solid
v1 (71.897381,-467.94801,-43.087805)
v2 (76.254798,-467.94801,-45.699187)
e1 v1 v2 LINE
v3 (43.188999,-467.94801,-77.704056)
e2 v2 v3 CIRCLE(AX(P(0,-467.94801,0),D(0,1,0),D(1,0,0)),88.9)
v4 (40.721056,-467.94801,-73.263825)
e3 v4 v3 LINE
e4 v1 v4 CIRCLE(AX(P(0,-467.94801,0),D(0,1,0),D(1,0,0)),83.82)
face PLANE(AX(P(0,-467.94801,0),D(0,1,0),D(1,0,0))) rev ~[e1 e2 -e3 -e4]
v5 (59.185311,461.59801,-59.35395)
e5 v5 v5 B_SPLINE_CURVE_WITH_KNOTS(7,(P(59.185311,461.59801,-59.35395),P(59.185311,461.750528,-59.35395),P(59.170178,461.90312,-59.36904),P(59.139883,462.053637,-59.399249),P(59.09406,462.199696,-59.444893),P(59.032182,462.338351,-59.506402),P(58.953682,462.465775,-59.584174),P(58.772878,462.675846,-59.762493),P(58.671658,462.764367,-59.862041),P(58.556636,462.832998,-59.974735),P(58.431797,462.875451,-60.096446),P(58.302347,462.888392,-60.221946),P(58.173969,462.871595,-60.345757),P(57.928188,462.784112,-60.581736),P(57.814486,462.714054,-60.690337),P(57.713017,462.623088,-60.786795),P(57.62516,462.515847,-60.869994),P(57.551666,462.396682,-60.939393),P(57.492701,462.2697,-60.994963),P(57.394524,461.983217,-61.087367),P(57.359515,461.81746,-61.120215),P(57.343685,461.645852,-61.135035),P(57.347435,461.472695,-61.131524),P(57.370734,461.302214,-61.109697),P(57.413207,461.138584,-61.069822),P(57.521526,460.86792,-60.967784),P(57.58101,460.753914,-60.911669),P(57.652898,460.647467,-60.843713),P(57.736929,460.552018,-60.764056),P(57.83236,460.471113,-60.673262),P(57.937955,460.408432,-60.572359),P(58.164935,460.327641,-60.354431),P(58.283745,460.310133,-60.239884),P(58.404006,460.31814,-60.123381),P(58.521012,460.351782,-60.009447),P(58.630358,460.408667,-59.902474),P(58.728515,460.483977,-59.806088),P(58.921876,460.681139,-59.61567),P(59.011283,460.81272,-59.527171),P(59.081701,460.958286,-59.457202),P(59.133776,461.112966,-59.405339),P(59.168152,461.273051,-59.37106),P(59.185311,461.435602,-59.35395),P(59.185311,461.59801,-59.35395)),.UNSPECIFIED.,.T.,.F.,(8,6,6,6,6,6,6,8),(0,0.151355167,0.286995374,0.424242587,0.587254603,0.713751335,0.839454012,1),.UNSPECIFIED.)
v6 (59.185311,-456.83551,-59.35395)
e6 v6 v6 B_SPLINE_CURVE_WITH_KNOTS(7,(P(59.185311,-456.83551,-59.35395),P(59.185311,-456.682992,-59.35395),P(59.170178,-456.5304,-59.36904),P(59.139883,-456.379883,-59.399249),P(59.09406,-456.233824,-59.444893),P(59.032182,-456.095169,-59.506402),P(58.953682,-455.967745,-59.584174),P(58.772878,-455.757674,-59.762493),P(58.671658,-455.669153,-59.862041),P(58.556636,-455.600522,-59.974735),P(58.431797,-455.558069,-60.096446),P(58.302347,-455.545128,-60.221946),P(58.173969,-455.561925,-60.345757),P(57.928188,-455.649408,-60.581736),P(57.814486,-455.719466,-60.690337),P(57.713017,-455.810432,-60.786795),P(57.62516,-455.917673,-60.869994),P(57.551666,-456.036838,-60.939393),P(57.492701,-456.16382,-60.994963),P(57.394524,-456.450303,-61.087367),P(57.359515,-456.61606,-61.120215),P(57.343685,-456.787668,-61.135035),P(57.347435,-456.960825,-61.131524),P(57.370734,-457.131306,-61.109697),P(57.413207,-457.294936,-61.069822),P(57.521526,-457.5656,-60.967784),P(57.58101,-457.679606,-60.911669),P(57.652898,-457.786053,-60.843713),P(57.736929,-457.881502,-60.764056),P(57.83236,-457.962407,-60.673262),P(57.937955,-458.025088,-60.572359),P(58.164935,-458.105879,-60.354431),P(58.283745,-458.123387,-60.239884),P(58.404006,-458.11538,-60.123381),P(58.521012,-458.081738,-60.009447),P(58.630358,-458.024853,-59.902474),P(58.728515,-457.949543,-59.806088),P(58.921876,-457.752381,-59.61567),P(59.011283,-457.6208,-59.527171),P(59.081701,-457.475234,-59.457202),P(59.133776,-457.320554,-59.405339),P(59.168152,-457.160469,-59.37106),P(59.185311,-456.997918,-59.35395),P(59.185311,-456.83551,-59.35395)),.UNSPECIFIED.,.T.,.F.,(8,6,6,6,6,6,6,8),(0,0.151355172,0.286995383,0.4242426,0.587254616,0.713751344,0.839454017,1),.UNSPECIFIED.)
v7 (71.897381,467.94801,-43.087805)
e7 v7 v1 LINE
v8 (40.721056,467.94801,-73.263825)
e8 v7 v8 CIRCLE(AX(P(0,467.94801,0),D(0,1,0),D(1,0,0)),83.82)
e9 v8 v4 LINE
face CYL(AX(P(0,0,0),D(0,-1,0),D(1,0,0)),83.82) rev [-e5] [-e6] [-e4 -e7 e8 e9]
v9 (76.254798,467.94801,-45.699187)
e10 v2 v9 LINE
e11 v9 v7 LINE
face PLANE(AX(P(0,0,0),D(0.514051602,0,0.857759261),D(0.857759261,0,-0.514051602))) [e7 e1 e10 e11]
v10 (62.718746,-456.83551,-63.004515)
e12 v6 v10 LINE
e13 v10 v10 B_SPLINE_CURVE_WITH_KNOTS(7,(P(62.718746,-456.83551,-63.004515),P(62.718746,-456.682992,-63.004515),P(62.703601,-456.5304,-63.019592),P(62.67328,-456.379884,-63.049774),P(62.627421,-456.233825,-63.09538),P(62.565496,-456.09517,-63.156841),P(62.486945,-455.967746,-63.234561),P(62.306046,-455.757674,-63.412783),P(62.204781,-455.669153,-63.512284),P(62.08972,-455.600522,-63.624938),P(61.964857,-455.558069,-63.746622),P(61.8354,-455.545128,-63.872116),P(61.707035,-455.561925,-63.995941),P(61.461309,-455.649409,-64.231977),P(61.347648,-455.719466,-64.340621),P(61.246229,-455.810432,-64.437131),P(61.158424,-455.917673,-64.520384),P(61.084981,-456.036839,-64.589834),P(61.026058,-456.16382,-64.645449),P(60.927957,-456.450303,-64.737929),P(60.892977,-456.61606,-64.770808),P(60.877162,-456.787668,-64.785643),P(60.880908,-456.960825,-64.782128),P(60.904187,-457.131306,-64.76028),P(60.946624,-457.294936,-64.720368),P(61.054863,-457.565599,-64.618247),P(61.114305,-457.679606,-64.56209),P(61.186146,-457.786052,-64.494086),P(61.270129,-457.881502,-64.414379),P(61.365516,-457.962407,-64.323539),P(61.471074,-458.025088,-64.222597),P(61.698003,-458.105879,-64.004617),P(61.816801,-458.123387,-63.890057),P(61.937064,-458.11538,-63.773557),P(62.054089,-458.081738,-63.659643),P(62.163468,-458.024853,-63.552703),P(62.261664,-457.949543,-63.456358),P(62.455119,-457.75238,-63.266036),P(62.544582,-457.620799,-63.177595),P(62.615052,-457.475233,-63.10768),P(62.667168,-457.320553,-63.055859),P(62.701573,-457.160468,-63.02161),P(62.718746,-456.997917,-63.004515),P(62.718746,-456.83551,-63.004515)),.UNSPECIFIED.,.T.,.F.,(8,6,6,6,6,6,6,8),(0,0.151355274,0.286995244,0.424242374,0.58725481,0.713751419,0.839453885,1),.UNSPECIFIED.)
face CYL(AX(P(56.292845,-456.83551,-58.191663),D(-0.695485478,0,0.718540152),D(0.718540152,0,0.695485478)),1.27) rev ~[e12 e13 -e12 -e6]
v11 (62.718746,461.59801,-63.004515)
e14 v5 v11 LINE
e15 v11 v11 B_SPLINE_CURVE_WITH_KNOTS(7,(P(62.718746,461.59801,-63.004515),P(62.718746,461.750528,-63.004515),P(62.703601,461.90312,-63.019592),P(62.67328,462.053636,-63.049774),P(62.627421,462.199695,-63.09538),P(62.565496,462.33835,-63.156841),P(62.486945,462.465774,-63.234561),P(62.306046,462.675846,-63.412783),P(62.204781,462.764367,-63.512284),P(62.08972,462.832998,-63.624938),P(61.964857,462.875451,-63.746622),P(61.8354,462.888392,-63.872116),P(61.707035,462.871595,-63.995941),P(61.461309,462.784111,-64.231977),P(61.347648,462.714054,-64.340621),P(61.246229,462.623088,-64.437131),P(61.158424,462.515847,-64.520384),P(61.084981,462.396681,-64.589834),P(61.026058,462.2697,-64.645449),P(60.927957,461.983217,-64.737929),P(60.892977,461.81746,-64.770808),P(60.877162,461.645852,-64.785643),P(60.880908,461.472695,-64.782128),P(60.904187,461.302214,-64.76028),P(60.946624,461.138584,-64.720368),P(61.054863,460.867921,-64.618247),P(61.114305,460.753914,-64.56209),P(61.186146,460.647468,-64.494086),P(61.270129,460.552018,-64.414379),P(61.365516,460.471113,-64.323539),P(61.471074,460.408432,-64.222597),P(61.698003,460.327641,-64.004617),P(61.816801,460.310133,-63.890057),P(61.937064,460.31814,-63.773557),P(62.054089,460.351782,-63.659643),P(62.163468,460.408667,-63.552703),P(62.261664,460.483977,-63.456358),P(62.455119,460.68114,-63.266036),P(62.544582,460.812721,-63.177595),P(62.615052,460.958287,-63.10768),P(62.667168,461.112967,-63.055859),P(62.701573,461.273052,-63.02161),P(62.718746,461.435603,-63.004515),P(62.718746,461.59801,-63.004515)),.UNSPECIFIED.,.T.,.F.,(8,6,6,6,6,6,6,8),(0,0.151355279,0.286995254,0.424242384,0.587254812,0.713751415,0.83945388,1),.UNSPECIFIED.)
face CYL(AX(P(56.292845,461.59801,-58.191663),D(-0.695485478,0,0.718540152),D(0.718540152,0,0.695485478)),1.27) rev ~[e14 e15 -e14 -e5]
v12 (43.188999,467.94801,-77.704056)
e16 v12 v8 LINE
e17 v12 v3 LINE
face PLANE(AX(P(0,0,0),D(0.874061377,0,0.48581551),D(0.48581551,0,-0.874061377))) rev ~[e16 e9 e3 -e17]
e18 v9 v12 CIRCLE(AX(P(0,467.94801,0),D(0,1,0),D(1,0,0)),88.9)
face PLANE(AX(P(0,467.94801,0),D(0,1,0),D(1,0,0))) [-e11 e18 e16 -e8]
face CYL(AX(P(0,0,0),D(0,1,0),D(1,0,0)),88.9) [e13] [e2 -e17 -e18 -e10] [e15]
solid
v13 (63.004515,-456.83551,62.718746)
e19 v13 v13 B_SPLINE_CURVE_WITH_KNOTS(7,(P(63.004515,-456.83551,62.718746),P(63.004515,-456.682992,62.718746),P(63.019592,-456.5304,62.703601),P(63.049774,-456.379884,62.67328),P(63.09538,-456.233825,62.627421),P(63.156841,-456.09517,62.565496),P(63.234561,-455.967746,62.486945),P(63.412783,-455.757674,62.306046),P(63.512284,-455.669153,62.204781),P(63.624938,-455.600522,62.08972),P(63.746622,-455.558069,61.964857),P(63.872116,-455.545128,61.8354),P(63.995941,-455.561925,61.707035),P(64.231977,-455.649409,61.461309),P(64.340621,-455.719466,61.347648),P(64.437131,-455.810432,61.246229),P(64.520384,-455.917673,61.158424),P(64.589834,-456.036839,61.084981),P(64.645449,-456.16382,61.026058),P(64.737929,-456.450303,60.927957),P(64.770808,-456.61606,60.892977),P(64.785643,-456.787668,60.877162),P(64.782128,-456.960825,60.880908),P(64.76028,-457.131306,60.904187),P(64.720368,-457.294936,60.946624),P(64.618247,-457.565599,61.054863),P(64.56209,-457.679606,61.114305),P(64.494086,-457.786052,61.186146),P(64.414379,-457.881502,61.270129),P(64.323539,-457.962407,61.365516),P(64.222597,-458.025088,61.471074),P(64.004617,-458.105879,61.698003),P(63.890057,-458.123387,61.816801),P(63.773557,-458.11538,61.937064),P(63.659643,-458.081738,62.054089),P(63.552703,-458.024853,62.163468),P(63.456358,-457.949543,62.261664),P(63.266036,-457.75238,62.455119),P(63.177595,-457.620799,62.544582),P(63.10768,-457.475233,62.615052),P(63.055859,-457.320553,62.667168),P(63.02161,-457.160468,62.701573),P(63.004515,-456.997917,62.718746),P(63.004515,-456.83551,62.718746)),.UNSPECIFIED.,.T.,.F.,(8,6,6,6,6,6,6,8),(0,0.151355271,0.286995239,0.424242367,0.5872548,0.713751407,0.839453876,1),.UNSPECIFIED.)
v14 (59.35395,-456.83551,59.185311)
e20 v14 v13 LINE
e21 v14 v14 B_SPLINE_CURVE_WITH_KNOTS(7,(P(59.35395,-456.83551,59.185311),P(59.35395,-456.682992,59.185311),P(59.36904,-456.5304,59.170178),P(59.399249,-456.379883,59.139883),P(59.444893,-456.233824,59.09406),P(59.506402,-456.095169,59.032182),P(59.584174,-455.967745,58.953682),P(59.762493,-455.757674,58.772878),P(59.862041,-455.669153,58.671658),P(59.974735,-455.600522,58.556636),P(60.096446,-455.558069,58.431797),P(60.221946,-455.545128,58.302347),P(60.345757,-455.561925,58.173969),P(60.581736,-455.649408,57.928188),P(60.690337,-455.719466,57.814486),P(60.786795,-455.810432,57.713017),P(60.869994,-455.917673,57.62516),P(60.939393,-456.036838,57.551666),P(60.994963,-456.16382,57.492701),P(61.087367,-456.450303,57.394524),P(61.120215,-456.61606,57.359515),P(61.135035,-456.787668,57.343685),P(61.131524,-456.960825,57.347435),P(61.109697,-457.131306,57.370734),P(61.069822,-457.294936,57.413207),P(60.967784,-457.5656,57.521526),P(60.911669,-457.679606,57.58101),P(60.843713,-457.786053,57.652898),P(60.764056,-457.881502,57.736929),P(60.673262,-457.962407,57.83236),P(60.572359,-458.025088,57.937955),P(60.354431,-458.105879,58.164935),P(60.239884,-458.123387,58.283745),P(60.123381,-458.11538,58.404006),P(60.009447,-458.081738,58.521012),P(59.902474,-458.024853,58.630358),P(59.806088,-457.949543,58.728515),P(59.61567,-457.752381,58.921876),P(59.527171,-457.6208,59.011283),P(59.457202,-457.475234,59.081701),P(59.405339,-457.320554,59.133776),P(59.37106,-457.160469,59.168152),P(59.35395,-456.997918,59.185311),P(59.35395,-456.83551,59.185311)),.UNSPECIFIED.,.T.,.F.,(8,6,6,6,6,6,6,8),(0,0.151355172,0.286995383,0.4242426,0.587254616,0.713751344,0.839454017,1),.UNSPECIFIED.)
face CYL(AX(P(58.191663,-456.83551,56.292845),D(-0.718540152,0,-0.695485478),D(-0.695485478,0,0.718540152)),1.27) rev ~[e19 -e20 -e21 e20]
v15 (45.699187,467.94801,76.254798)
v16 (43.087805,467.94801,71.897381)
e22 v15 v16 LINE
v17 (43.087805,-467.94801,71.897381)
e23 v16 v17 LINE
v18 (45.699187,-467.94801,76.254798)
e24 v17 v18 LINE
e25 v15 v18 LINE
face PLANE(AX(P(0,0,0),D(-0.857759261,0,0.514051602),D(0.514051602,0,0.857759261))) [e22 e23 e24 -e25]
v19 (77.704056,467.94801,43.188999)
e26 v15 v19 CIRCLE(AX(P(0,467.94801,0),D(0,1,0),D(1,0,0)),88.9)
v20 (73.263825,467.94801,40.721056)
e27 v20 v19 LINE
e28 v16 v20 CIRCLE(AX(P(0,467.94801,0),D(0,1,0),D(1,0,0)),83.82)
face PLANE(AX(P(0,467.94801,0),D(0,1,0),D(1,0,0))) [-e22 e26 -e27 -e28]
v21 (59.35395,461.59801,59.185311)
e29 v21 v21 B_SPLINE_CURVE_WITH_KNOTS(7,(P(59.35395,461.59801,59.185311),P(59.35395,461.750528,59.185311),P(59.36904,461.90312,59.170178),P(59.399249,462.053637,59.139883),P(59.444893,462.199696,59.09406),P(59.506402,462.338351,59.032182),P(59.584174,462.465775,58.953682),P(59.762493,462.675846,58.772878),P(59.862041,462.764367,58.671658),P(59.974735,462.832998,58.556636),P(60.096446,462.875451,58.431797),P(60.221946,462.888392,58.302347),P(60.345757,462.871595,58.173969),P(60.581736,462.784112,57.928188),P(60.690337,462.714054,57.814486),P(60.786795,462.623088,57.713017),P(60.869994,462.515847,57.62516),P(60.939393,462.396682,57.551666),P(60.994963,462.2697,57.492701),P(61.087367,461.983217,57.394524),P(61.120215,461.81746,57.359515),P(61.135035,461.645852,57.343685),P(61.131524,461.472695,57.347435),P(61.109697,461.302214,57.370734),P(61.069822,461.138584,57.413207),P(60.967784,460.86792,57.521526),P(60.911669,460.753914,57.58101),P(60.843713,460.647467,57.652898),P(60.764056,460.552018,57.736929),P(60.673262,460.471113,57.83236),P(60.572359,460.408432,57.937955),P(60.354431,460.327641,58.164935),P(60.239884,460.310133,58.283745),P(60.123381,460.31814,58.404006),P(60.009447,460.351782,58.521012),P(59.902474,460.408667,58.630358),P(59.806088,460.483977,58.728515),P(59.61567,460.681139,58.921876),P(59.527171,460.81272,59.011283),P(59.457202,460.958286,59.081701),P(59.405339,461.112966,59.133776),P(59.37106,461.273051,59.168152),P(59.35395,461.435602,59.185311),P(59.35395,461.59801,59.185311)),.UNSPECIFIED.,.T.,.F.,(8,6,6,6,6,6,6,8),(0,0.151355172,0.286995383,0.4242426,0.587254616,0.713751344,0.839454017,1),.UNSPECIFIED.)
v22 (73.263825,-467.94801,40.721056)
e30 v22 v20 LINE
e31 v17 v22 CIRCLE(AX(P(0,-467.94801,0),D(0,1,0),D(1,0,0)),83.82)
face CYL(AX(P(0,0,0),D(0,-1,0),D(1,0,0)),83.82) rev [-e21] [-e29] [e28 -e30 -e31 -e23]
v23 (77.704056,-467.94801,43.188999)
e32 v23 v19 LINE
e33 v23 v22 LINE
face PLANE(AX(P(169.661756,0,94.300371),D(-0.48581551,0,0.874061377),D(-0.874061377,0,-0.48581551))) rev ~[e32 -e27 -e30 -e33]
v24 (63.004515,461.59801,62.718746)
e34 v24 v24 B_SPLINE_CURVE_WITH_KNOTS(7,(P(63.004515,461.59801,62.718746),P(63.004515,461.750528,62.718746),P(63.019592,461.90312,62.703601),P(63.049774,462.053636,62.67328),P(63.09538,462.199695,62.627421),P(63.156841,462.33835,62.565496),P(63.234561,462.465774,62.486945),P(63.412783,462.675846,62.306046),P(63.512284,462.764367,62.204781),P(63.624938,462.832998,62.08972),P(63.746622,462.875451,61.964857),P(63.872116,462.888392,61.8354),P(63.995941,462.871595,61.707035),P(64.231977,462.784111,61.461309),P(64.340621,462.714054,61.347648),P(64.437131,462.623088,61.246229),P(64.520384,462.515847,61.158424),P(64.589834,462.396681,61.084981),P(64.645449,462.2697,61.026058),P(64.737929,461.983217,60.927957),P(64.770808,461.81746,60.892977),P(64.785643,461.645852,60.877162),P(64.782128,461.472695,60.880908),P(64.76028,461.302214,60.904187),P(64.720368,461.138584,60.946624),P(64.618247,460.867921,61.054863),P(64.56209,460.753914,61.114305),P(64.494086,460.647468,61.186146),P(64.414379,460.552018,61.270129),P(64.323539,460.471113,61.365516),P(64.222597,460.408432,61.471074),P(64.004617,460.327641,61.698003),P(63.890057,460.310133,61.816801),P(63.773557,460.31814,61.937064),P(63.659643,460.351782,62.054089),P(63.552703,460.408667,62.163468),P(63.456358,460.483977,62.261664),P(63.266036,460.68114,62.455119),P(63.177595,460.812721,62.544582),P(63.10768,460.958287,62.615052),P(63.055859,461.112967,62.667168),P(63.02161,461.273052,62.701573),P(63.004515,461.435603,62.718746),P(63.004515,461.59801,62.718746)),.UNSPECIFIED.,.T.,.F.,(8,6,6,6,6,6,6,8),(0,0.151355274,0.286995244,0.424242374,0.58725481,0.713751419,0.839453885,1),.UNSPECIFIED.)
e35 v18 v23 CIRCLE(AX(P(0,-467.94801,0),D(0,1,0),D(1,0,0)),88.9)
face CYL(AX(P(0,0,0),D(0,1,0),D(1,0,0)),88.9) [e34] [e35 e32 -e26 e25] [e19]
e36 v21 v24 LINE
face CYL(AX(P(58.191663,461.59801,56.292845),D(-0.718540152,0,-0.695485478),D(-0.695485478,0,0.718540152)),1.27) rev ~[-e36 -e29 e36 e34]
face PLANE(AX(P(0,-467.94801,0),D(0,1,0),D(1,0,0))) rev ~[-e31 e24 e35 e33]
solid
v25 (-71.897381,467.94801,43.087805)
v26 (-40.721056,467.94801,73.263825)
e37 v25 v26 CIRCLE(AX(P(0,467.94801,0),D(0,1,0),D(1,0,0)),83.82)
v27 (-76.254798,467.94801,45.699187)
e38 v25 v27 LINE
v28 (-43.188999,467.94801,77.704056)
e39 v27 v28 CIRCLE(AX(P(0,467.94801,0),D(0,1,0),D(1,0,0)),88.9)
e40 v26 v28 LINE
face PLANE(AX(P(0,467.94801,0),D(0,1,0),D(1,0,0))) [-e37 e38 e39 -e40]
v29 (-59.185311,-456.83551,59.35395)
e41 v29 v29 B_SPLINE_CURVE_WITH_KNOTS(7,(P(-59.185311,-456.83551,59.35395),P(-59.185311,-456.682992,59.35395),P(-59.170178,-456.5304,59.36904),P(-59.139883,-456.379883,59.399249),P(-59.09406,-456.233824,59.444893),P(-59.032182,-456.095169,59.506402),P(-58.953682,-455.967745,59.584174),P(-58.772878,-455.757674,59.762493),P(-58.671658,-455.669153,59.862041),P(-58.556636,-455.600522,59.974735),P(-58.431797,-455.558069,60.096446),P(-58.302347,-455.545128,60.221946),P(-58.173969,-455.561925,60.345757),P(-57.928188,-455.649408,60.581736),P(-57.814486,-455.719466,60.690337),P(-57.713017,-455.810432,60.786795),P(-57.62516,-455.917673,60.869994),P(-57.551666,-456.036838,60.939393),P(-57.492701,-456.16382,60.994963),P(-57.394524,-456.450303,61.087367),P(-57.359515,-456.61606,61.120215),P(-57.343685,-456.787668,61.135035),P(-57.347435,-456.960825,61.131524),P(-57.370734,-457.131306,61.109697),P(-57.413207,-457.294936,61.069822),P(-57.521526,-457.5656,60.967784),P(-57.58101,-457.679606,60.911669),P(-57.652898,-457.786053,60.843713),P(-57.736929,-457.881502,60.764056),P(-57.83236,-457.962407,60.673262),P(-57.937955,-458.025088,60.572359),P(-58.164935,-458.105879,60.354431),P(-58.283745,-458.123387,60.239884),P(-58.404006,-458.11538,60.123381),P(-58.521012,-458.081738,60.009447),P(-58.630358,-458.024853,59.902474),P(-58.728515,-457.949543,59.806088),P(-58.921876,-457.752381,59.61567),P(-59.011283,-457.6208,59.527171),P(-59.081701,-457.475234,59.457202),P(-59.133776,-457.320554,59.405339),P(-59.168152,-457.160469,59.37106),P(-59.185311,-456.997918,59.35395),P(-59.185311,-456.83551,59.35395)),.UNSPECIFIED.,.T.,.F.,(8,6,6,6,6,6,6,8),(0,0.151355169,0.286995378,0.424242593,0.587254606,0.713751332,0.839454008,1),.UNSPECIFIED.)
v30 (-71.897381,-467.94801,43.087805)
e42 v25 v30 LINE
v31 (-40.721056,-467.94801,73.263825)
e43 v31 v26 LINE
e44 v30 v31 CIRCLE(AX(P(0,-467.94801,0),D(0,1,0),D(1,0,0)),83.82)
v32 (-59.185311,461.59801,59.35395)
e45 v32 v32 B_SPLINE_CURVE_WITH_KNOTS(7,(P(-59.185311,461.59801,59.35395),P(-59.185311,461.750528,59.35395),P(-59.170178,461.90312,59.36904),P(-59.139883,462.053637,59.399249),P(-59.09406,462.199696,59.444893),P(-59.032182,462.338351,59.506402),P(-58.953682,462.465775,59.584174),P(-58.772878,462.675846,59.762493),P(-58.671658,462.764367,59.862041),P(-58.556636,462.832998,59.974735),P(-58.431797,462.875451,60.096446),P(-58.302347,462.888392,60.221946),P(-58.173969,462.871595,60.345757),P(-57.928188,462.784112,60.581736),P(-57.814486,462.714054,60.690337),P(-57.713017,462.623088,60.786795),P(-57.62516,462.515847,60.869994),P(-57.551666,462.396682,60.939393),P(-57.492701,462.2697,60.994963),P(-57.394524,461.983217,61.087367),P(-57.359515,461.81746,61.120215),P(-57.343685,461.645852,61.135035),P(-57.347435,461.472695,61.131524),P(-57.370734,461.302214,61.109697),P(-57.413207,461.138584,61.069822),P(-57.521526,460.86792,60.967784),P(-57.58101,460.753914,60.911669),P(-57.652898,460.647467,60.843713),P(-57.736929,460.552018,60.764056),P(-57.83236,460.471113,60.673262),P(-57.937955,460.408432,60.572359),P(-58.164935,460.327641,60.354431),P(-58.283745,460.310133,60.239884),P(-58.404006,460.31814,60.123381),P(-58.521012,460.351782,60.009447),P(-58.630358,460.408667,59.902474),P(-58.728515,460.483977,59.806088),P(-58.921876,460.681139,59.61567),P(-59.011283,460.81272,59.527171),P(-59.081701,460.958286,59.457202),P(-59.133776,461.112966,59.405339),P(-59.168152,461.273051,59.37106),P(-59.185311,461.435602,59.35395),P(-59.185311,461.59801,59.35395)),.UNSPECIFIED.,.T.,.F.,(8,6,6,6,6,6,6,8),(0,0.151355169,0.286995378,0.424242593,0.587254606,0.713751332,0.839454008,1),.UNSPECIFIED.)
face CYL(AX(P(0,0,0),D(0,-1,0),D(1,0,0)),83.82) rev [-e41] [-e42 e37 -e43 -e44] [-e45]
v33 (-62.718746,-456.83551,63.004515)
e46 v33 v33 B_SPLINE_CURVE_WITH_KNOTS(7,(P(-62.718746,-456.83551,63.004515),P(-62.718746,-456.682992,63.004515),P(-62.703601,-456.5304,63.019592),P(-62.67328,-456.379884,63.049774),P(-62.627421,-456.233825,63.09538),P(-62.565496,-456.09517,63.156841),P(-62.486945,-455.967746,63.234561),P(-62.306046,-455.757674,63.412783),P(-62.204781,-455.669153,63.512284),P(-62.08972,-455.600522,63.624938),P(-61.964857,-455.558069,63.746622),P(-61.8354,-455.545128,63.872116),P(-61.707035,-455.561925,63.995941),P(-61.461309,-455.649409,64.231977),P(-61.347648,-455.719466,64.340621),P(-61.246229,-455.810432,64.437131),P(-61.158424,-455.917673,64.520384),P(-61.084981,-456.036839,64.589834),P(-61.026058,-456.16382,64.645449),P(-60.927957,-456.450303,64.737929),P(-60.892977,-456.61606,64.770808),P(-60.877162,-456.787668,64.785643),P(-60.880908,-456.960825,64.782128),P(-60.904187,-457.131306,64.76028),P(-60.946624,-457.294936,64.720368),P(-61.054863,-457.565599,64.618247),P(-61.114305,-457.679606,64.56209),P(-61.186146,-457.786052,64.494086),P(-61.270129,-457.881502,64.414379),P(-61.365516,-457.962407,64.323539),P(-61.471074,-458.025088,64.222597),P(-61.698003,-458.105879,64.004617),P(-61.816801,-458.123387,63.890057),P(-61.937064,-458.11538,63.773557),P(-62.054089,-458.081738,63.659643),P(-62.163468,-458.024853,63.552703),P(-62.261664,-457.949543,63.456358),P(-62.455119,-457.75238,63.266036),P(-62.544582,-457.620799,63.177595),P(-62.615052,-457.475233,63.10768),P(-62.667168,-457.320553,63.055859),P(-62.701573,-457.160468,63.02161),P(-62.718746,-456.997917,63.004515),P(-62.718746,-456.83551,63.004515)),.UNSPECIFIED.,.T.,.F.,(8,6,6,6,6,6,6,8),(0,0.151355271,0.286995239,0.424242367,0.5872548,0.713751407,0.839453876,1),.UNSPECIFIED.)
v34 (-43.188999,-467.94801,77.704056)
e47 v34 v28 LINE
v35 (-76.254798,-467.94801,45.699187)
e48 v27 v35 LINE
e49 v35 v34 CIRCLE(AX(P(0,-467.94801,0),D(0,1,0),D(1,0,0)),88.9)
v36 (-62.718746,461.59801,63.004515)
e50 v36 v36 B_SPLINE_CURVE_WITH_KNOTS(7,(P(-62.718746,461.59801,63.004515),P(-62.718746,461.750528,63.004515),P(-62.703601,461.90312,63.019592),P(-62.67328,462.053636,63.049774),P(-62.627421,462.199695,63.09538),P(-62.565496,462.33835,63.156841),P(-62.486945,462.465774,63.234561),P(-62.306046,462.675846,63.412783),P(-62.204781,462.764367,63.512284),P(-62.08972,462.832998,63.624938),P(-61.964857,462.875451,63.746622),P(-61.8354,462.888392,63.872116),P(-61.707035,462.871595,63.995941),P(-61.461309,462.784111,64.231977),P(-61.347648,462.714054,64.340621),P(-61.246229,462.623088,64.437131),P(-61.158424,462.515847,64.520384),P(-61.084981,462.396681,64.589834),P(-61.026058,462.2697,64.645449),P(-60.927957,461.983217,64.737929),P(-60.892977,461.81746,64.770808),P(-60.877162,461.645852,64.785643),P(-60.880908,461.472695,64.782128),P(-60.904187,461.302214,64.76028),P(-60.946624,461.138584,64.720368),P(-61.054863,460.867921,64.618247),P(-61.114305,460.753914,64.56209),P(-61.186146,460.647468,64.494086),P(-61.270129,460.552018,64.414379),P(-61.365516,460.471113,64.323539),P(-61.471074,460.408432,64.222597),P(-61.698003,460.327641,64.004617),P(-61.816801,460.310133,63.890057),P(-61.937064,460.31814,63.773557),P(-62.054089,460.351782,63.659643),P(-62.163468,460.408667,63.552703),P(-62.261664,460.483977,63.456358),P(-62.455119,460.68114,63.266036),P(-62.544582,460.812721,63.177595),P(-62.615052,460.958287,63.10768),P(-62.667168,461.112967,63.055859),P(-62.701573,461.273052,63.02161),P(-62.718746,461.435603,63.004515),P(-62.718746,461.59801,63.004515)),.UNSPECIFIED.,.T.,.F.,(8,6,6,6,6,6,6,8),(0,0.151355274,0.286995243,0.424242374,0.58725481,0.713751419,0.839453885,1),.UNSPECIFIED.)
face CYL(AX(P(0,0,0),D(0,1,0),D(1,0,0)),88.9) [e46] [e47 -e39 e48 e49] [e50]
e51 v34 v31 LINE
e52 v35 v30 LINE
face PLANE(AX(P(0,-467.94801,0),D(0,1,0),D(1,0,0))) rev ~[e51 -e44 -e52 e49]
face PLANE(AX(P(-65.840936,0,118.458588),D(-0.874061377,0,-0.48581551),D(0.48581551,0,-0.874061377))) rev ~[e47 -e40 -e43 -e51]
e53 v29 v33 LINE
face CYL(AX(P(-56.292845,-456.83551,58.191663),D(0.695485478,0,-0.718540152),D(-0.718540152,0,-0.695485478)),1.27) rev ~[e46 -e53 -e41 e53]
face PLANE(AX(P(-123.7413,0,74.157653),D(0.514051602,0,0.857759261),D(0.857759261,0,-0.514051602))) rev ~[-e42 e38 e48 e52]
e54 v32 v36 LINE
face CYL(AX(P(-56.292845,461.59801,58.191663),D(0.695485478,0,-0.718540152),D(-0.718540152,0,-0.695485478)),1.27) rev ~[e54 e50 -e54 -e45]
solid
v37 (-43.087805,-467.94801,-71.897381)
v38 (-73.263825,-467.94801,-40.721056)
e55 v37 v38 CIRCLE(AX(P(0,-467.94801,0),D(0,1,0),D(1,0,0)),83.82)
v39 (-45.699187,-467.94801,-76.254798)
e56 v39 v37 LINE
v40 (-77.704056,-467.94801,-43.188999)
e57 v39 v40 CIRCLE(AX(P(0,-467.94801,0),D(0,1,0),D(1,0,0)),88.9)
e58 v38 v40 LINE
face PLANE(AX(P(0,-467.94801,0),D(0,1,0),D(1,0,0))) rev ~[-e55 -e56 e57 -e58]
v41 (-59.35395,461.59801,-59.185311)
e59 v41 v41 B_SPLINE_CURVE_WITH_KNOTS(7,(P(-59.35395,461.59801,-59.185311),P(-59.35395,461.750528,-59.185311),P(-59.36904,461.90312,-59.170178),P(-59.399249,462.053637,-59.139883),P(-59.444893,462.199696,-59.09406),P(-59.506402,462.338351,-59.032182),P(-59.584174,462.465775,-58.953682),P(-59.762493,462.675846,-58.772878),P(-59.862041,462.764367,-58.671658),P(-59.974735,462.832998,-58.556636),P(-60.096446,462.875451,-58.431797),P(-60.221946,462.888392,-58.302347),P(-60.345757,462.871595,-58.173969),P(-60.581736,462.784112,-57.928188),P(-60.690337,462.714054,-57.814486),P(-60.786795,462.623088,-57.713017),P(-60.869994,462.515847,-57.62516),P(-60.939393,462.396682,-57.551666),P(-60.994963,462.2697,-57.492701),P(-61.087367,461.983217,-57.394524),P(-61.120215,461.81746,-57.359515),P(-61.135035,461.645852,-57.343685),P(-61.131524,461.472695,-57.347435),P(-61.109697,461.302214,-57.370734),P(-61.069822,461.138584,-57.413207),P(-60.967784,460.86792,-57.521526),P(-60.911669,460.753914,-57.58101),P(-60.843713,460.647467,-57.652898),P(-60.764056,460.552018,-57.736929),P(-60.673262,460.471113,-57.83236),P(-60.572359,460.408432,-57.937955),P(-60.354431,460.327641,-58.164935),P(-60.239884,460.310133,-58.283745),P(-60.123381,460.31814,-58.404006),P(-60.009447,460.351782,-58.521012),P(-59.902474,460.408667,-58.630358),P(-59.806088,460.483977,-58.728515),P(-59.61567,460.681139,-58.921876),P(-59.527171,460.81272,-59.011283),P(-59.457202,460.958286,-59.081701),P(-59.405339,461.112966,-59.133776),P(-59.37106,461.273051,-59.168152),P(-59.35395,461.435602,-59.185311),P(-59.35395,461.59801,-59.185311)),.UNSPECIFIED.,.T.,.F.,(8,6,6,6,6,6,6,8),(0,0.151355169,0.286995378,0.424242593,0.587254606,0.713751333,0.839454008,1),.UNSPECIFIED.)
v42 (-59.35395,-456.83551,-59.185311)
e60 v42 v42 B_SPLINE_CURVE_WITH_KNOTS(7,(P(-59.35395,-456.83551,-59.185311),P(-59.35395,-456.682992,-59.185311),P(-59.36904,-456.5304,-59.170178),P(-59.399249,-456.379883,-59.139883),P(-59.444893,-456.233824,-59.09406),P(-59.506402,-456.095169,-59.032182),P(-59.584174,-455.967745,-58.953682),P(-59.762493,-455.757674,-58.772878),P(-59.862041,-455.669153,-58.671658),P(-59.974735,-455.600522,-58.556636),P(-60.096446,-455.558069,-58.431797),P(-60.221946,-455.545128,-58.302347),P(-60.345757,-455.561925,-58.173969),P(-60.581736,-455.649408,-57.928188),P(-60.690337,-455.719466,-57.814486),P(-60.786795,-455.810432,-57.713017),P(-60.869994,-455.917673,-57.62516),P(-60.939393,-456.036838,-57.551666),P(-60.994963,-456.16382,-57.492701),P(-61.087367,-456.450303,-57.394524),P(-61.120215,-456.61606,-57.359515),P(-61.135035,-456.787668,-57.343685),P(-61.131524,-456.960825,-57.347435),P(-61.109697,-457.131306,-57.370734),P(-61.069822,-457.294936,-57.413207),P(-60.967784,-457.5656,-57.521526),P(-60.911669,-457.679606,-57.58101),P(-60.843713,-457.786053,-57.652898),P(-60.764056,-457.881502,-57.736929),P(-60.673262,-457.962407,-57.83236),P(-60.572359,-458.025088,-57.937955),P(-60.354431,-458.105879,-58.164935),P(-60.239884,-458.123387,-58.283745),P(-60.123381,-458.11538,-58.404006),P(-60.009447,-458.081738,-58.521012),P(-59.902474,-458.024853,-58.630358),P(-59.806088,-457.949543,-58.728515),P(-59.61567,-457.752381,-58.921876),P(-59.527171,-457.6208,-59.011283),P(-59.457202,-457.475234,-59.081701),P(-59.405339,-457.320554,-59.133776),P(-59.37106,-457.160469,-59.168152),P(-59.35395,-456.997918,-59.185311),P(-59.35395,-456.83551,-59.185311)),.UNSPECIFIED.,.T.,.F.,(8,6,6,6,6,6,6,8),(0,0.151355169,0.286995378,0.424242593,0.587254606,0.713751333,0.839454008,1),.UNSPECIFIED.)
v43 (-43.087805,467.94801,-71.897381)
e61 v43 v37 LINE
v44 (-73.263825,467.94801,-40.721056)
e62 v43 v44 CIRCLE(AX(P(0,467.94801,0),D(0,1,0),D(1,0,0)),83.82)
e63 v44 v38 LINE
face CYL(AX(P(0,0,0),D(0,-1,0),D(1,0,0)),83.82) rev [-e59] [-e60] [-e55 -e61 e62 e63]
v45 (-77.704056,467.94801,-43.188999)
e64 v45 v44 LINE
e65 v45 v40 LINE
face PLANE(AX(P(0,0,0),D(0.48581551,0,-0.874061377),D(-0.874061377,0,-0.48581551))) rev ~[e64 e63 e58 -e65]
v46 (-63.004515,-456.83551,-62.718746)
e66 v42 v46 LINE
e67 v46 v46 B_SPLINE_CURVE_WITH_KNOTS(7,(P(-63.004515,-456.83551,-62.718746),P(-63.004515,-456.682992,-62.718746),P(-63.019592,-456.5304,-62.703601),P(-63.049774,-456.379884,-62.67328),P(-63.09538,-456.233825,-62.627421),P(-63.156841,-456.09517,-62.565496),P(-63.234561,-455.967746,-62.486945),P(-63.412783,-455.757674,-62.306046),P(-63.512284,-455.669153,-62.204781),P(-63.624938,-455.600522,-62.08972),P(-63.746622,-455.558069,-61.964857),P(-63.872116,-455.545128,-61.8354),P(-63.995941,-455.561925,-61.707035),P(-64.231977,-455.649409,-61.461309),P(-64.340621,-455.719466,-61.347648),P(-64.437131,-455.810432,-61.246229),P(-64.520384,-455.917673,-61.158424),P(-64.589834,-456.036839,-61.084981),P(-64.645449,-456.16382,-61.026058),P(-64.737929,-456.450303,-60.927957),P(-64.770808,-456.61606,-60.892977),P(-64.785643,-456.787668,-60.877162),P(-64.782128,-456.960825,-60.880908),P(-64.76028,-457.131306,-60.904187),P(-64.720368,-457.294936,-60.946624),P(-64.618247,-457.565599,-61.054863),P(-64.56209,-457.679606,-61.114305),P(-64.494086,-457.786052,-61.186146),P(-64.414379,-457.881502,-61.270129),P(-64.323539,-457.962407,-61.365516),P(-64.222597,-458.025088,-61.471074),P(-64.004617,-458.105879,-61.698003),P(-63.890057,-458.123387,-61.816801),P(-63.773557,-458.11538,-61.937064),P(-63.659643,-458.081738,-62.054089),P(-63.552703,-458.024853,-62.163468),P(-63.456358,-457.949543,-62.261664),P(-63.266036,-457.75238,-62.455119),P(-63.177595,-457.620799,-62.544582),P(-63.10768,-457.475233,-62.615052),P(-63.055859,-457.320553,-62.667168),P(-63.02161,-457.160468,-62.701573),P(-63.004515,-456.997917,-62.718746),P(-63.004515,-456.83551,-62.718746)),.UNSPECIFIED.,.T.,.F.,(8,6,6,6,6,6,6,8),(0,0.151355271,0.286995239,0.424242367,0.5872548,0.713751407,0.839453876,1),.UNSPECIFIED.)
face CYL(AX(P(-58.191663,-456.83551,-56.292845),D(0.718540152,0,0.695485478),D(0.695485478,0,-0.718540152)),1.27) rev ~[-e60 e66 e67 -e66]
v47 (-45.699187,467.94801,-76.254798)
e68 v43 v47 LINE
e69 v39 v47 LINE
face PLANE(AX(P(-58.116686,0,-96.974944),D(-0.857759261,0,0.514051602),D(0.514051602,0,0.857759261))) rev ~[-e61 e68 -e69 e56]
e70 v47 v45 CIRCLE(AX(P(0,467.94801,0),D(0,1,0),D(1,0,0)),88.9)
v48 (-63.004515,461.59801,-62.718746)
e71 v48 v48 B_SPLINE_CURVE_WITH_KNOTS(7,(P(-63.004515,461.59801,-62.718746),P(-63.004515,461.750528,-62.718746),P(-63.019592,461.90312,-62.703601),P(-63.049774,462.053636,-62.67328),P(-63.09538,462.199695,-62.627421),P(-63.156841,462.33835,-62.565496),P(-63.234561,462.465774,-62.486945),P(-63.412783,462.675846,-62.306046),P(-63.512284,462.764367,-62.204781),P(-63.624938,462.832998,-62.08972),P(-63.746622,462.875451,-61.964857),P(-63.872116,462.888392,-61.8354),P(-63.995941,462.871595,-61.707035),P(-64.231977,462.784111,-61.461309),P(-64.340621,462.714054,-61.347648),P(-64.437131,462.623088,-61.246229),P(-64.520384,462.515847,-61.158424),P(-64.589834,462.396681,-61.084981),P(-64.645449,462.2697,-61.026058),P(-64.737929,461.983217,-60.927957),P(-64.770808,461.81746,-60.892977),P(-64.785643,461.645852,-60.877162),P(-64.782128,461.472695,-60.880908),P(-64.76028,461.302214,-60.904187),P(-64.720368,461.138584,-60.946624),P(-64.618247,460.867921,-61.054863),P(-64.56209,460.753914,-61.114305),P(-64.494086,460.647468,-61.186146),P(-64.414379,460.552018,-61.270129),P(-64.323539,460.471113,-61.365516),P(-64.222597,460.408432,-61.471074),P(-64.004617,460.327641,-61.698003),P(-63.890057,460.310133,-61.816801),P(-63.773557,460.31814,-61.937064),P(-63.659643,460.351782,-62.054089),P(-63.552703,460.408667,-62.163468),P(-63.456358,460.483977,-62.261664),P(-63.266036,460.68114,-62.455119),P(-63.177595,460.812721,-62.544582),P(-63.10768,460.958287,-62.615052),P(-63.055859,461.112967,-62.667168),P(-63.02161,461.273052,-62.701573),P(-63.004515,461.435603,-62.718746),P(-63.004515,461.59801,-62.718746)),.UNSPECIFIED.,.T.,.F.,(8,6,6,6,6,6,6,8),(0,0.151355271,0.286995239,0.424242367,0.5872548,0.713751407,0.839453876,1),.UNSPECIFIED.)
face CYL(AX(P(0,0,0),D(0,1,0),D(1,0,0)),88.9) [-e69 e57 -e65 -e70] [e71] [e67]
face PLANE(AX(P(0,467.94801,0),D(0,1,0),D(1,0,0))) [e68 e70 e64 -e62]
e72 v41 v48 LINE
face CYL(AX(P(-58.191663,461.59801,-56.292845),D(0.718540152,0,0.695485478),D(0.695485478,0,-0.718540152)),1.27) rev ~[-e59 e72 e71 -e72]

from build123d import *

# Parameters (mm, degrees)
SKETCH2_R               = 88.9
SKETCH2_R_2             = 83.82
BOSS_EXTRUDE1_DEPTH     = 467.94801
CUT_EXTRUDE1_DEPTH      = 468.94801
CUT_EXTRUDE1_DEPTH_BACK = 468.94801
SKETCH5_R               = 1.27
BOLT_HOLES_DEPTH        = 29.911624556
BOLT_PATTERN_COUNT      = 4


with BuildPart() as part:
    # Sketch2 → Boss-Extrude1 (new body, symmetric)
    with BuildSketch(Plane(origin=(0, 0, 0), x_dir=(1, 0, 0), z_dir=(0, 1, 0))):
        Circle(SKETCH2_R)
        Circle(SKETCH2_R_2, mode=Mode.SUBTRACT)
    extrude(amount=BOSS_EXTRUDE1_DEPTH, both=True)

    # Sketch3 → Cut-Extrude1 (cut, two sides)
    with BuildSketch(Plane(origin=(0, 0, 0), x_dir=(1, 0, 0), z_dir=(0, 1, 0))) as cut_extrude1_sk:
        Polygon((169.661755759, -94.300371224), (0, 0), (169.661755759, 101.677593364), align=None)
        Polygon((0, 0), (53.900027233, 96.974944394), (-58.116685864, 96.974944394), align=None)
        Polygon((-123.741299607, 68.777140945), (-123.741299607, -74.157652604), (0, 0), align=None)
        Polygon((-65.840936026, -118.45858783), (0, 0), (70.991745134, -118.45858783), align=None)
    extrude(amount=CUT_EXTRUDE1_DEPTH, mode=Mode.SUBTRACT)
    extrude(cut_extrude1_sk.sketch, amount=-CUT_EXTRUDE1_DEPTH_BACK, mode=Mode.SUBTRACT)

    # Sketch5 → Bolt holes (cut, through all)
    with BuildSketch(Plane(origin=(-56.309218645, 0, 58.175814955), x_dir=(-0.718540152, 0, -0.695485478), z_dir=(0.695485478, 0, -0.718540152))):
        with Locations((-0.02278764, 461.59801)):
            Circle(SKETCH5_R)
        with Locations((-0.02278764, -456.83551)):
            Circle(SKETCH5_R)
    bolt_holes = extrude(amount=-BOLT_HOLES_DEPTH, mode=Mode.SUBTRACT)

    # Bolt pattern: Bolt holes ×4 about axis
    bolt_pattern_axis = Axis((0, 467.94801, 0), (0, 1, 0))
    for i in range(1, BOLT_PATTERN_COUNT):
        add(bolt_holes.rotate(bolt_pattern_axis, i * 360 / BOLT_PATTERN_COUNT), mode=Mode.SUBTRACT)


solid = part.part
